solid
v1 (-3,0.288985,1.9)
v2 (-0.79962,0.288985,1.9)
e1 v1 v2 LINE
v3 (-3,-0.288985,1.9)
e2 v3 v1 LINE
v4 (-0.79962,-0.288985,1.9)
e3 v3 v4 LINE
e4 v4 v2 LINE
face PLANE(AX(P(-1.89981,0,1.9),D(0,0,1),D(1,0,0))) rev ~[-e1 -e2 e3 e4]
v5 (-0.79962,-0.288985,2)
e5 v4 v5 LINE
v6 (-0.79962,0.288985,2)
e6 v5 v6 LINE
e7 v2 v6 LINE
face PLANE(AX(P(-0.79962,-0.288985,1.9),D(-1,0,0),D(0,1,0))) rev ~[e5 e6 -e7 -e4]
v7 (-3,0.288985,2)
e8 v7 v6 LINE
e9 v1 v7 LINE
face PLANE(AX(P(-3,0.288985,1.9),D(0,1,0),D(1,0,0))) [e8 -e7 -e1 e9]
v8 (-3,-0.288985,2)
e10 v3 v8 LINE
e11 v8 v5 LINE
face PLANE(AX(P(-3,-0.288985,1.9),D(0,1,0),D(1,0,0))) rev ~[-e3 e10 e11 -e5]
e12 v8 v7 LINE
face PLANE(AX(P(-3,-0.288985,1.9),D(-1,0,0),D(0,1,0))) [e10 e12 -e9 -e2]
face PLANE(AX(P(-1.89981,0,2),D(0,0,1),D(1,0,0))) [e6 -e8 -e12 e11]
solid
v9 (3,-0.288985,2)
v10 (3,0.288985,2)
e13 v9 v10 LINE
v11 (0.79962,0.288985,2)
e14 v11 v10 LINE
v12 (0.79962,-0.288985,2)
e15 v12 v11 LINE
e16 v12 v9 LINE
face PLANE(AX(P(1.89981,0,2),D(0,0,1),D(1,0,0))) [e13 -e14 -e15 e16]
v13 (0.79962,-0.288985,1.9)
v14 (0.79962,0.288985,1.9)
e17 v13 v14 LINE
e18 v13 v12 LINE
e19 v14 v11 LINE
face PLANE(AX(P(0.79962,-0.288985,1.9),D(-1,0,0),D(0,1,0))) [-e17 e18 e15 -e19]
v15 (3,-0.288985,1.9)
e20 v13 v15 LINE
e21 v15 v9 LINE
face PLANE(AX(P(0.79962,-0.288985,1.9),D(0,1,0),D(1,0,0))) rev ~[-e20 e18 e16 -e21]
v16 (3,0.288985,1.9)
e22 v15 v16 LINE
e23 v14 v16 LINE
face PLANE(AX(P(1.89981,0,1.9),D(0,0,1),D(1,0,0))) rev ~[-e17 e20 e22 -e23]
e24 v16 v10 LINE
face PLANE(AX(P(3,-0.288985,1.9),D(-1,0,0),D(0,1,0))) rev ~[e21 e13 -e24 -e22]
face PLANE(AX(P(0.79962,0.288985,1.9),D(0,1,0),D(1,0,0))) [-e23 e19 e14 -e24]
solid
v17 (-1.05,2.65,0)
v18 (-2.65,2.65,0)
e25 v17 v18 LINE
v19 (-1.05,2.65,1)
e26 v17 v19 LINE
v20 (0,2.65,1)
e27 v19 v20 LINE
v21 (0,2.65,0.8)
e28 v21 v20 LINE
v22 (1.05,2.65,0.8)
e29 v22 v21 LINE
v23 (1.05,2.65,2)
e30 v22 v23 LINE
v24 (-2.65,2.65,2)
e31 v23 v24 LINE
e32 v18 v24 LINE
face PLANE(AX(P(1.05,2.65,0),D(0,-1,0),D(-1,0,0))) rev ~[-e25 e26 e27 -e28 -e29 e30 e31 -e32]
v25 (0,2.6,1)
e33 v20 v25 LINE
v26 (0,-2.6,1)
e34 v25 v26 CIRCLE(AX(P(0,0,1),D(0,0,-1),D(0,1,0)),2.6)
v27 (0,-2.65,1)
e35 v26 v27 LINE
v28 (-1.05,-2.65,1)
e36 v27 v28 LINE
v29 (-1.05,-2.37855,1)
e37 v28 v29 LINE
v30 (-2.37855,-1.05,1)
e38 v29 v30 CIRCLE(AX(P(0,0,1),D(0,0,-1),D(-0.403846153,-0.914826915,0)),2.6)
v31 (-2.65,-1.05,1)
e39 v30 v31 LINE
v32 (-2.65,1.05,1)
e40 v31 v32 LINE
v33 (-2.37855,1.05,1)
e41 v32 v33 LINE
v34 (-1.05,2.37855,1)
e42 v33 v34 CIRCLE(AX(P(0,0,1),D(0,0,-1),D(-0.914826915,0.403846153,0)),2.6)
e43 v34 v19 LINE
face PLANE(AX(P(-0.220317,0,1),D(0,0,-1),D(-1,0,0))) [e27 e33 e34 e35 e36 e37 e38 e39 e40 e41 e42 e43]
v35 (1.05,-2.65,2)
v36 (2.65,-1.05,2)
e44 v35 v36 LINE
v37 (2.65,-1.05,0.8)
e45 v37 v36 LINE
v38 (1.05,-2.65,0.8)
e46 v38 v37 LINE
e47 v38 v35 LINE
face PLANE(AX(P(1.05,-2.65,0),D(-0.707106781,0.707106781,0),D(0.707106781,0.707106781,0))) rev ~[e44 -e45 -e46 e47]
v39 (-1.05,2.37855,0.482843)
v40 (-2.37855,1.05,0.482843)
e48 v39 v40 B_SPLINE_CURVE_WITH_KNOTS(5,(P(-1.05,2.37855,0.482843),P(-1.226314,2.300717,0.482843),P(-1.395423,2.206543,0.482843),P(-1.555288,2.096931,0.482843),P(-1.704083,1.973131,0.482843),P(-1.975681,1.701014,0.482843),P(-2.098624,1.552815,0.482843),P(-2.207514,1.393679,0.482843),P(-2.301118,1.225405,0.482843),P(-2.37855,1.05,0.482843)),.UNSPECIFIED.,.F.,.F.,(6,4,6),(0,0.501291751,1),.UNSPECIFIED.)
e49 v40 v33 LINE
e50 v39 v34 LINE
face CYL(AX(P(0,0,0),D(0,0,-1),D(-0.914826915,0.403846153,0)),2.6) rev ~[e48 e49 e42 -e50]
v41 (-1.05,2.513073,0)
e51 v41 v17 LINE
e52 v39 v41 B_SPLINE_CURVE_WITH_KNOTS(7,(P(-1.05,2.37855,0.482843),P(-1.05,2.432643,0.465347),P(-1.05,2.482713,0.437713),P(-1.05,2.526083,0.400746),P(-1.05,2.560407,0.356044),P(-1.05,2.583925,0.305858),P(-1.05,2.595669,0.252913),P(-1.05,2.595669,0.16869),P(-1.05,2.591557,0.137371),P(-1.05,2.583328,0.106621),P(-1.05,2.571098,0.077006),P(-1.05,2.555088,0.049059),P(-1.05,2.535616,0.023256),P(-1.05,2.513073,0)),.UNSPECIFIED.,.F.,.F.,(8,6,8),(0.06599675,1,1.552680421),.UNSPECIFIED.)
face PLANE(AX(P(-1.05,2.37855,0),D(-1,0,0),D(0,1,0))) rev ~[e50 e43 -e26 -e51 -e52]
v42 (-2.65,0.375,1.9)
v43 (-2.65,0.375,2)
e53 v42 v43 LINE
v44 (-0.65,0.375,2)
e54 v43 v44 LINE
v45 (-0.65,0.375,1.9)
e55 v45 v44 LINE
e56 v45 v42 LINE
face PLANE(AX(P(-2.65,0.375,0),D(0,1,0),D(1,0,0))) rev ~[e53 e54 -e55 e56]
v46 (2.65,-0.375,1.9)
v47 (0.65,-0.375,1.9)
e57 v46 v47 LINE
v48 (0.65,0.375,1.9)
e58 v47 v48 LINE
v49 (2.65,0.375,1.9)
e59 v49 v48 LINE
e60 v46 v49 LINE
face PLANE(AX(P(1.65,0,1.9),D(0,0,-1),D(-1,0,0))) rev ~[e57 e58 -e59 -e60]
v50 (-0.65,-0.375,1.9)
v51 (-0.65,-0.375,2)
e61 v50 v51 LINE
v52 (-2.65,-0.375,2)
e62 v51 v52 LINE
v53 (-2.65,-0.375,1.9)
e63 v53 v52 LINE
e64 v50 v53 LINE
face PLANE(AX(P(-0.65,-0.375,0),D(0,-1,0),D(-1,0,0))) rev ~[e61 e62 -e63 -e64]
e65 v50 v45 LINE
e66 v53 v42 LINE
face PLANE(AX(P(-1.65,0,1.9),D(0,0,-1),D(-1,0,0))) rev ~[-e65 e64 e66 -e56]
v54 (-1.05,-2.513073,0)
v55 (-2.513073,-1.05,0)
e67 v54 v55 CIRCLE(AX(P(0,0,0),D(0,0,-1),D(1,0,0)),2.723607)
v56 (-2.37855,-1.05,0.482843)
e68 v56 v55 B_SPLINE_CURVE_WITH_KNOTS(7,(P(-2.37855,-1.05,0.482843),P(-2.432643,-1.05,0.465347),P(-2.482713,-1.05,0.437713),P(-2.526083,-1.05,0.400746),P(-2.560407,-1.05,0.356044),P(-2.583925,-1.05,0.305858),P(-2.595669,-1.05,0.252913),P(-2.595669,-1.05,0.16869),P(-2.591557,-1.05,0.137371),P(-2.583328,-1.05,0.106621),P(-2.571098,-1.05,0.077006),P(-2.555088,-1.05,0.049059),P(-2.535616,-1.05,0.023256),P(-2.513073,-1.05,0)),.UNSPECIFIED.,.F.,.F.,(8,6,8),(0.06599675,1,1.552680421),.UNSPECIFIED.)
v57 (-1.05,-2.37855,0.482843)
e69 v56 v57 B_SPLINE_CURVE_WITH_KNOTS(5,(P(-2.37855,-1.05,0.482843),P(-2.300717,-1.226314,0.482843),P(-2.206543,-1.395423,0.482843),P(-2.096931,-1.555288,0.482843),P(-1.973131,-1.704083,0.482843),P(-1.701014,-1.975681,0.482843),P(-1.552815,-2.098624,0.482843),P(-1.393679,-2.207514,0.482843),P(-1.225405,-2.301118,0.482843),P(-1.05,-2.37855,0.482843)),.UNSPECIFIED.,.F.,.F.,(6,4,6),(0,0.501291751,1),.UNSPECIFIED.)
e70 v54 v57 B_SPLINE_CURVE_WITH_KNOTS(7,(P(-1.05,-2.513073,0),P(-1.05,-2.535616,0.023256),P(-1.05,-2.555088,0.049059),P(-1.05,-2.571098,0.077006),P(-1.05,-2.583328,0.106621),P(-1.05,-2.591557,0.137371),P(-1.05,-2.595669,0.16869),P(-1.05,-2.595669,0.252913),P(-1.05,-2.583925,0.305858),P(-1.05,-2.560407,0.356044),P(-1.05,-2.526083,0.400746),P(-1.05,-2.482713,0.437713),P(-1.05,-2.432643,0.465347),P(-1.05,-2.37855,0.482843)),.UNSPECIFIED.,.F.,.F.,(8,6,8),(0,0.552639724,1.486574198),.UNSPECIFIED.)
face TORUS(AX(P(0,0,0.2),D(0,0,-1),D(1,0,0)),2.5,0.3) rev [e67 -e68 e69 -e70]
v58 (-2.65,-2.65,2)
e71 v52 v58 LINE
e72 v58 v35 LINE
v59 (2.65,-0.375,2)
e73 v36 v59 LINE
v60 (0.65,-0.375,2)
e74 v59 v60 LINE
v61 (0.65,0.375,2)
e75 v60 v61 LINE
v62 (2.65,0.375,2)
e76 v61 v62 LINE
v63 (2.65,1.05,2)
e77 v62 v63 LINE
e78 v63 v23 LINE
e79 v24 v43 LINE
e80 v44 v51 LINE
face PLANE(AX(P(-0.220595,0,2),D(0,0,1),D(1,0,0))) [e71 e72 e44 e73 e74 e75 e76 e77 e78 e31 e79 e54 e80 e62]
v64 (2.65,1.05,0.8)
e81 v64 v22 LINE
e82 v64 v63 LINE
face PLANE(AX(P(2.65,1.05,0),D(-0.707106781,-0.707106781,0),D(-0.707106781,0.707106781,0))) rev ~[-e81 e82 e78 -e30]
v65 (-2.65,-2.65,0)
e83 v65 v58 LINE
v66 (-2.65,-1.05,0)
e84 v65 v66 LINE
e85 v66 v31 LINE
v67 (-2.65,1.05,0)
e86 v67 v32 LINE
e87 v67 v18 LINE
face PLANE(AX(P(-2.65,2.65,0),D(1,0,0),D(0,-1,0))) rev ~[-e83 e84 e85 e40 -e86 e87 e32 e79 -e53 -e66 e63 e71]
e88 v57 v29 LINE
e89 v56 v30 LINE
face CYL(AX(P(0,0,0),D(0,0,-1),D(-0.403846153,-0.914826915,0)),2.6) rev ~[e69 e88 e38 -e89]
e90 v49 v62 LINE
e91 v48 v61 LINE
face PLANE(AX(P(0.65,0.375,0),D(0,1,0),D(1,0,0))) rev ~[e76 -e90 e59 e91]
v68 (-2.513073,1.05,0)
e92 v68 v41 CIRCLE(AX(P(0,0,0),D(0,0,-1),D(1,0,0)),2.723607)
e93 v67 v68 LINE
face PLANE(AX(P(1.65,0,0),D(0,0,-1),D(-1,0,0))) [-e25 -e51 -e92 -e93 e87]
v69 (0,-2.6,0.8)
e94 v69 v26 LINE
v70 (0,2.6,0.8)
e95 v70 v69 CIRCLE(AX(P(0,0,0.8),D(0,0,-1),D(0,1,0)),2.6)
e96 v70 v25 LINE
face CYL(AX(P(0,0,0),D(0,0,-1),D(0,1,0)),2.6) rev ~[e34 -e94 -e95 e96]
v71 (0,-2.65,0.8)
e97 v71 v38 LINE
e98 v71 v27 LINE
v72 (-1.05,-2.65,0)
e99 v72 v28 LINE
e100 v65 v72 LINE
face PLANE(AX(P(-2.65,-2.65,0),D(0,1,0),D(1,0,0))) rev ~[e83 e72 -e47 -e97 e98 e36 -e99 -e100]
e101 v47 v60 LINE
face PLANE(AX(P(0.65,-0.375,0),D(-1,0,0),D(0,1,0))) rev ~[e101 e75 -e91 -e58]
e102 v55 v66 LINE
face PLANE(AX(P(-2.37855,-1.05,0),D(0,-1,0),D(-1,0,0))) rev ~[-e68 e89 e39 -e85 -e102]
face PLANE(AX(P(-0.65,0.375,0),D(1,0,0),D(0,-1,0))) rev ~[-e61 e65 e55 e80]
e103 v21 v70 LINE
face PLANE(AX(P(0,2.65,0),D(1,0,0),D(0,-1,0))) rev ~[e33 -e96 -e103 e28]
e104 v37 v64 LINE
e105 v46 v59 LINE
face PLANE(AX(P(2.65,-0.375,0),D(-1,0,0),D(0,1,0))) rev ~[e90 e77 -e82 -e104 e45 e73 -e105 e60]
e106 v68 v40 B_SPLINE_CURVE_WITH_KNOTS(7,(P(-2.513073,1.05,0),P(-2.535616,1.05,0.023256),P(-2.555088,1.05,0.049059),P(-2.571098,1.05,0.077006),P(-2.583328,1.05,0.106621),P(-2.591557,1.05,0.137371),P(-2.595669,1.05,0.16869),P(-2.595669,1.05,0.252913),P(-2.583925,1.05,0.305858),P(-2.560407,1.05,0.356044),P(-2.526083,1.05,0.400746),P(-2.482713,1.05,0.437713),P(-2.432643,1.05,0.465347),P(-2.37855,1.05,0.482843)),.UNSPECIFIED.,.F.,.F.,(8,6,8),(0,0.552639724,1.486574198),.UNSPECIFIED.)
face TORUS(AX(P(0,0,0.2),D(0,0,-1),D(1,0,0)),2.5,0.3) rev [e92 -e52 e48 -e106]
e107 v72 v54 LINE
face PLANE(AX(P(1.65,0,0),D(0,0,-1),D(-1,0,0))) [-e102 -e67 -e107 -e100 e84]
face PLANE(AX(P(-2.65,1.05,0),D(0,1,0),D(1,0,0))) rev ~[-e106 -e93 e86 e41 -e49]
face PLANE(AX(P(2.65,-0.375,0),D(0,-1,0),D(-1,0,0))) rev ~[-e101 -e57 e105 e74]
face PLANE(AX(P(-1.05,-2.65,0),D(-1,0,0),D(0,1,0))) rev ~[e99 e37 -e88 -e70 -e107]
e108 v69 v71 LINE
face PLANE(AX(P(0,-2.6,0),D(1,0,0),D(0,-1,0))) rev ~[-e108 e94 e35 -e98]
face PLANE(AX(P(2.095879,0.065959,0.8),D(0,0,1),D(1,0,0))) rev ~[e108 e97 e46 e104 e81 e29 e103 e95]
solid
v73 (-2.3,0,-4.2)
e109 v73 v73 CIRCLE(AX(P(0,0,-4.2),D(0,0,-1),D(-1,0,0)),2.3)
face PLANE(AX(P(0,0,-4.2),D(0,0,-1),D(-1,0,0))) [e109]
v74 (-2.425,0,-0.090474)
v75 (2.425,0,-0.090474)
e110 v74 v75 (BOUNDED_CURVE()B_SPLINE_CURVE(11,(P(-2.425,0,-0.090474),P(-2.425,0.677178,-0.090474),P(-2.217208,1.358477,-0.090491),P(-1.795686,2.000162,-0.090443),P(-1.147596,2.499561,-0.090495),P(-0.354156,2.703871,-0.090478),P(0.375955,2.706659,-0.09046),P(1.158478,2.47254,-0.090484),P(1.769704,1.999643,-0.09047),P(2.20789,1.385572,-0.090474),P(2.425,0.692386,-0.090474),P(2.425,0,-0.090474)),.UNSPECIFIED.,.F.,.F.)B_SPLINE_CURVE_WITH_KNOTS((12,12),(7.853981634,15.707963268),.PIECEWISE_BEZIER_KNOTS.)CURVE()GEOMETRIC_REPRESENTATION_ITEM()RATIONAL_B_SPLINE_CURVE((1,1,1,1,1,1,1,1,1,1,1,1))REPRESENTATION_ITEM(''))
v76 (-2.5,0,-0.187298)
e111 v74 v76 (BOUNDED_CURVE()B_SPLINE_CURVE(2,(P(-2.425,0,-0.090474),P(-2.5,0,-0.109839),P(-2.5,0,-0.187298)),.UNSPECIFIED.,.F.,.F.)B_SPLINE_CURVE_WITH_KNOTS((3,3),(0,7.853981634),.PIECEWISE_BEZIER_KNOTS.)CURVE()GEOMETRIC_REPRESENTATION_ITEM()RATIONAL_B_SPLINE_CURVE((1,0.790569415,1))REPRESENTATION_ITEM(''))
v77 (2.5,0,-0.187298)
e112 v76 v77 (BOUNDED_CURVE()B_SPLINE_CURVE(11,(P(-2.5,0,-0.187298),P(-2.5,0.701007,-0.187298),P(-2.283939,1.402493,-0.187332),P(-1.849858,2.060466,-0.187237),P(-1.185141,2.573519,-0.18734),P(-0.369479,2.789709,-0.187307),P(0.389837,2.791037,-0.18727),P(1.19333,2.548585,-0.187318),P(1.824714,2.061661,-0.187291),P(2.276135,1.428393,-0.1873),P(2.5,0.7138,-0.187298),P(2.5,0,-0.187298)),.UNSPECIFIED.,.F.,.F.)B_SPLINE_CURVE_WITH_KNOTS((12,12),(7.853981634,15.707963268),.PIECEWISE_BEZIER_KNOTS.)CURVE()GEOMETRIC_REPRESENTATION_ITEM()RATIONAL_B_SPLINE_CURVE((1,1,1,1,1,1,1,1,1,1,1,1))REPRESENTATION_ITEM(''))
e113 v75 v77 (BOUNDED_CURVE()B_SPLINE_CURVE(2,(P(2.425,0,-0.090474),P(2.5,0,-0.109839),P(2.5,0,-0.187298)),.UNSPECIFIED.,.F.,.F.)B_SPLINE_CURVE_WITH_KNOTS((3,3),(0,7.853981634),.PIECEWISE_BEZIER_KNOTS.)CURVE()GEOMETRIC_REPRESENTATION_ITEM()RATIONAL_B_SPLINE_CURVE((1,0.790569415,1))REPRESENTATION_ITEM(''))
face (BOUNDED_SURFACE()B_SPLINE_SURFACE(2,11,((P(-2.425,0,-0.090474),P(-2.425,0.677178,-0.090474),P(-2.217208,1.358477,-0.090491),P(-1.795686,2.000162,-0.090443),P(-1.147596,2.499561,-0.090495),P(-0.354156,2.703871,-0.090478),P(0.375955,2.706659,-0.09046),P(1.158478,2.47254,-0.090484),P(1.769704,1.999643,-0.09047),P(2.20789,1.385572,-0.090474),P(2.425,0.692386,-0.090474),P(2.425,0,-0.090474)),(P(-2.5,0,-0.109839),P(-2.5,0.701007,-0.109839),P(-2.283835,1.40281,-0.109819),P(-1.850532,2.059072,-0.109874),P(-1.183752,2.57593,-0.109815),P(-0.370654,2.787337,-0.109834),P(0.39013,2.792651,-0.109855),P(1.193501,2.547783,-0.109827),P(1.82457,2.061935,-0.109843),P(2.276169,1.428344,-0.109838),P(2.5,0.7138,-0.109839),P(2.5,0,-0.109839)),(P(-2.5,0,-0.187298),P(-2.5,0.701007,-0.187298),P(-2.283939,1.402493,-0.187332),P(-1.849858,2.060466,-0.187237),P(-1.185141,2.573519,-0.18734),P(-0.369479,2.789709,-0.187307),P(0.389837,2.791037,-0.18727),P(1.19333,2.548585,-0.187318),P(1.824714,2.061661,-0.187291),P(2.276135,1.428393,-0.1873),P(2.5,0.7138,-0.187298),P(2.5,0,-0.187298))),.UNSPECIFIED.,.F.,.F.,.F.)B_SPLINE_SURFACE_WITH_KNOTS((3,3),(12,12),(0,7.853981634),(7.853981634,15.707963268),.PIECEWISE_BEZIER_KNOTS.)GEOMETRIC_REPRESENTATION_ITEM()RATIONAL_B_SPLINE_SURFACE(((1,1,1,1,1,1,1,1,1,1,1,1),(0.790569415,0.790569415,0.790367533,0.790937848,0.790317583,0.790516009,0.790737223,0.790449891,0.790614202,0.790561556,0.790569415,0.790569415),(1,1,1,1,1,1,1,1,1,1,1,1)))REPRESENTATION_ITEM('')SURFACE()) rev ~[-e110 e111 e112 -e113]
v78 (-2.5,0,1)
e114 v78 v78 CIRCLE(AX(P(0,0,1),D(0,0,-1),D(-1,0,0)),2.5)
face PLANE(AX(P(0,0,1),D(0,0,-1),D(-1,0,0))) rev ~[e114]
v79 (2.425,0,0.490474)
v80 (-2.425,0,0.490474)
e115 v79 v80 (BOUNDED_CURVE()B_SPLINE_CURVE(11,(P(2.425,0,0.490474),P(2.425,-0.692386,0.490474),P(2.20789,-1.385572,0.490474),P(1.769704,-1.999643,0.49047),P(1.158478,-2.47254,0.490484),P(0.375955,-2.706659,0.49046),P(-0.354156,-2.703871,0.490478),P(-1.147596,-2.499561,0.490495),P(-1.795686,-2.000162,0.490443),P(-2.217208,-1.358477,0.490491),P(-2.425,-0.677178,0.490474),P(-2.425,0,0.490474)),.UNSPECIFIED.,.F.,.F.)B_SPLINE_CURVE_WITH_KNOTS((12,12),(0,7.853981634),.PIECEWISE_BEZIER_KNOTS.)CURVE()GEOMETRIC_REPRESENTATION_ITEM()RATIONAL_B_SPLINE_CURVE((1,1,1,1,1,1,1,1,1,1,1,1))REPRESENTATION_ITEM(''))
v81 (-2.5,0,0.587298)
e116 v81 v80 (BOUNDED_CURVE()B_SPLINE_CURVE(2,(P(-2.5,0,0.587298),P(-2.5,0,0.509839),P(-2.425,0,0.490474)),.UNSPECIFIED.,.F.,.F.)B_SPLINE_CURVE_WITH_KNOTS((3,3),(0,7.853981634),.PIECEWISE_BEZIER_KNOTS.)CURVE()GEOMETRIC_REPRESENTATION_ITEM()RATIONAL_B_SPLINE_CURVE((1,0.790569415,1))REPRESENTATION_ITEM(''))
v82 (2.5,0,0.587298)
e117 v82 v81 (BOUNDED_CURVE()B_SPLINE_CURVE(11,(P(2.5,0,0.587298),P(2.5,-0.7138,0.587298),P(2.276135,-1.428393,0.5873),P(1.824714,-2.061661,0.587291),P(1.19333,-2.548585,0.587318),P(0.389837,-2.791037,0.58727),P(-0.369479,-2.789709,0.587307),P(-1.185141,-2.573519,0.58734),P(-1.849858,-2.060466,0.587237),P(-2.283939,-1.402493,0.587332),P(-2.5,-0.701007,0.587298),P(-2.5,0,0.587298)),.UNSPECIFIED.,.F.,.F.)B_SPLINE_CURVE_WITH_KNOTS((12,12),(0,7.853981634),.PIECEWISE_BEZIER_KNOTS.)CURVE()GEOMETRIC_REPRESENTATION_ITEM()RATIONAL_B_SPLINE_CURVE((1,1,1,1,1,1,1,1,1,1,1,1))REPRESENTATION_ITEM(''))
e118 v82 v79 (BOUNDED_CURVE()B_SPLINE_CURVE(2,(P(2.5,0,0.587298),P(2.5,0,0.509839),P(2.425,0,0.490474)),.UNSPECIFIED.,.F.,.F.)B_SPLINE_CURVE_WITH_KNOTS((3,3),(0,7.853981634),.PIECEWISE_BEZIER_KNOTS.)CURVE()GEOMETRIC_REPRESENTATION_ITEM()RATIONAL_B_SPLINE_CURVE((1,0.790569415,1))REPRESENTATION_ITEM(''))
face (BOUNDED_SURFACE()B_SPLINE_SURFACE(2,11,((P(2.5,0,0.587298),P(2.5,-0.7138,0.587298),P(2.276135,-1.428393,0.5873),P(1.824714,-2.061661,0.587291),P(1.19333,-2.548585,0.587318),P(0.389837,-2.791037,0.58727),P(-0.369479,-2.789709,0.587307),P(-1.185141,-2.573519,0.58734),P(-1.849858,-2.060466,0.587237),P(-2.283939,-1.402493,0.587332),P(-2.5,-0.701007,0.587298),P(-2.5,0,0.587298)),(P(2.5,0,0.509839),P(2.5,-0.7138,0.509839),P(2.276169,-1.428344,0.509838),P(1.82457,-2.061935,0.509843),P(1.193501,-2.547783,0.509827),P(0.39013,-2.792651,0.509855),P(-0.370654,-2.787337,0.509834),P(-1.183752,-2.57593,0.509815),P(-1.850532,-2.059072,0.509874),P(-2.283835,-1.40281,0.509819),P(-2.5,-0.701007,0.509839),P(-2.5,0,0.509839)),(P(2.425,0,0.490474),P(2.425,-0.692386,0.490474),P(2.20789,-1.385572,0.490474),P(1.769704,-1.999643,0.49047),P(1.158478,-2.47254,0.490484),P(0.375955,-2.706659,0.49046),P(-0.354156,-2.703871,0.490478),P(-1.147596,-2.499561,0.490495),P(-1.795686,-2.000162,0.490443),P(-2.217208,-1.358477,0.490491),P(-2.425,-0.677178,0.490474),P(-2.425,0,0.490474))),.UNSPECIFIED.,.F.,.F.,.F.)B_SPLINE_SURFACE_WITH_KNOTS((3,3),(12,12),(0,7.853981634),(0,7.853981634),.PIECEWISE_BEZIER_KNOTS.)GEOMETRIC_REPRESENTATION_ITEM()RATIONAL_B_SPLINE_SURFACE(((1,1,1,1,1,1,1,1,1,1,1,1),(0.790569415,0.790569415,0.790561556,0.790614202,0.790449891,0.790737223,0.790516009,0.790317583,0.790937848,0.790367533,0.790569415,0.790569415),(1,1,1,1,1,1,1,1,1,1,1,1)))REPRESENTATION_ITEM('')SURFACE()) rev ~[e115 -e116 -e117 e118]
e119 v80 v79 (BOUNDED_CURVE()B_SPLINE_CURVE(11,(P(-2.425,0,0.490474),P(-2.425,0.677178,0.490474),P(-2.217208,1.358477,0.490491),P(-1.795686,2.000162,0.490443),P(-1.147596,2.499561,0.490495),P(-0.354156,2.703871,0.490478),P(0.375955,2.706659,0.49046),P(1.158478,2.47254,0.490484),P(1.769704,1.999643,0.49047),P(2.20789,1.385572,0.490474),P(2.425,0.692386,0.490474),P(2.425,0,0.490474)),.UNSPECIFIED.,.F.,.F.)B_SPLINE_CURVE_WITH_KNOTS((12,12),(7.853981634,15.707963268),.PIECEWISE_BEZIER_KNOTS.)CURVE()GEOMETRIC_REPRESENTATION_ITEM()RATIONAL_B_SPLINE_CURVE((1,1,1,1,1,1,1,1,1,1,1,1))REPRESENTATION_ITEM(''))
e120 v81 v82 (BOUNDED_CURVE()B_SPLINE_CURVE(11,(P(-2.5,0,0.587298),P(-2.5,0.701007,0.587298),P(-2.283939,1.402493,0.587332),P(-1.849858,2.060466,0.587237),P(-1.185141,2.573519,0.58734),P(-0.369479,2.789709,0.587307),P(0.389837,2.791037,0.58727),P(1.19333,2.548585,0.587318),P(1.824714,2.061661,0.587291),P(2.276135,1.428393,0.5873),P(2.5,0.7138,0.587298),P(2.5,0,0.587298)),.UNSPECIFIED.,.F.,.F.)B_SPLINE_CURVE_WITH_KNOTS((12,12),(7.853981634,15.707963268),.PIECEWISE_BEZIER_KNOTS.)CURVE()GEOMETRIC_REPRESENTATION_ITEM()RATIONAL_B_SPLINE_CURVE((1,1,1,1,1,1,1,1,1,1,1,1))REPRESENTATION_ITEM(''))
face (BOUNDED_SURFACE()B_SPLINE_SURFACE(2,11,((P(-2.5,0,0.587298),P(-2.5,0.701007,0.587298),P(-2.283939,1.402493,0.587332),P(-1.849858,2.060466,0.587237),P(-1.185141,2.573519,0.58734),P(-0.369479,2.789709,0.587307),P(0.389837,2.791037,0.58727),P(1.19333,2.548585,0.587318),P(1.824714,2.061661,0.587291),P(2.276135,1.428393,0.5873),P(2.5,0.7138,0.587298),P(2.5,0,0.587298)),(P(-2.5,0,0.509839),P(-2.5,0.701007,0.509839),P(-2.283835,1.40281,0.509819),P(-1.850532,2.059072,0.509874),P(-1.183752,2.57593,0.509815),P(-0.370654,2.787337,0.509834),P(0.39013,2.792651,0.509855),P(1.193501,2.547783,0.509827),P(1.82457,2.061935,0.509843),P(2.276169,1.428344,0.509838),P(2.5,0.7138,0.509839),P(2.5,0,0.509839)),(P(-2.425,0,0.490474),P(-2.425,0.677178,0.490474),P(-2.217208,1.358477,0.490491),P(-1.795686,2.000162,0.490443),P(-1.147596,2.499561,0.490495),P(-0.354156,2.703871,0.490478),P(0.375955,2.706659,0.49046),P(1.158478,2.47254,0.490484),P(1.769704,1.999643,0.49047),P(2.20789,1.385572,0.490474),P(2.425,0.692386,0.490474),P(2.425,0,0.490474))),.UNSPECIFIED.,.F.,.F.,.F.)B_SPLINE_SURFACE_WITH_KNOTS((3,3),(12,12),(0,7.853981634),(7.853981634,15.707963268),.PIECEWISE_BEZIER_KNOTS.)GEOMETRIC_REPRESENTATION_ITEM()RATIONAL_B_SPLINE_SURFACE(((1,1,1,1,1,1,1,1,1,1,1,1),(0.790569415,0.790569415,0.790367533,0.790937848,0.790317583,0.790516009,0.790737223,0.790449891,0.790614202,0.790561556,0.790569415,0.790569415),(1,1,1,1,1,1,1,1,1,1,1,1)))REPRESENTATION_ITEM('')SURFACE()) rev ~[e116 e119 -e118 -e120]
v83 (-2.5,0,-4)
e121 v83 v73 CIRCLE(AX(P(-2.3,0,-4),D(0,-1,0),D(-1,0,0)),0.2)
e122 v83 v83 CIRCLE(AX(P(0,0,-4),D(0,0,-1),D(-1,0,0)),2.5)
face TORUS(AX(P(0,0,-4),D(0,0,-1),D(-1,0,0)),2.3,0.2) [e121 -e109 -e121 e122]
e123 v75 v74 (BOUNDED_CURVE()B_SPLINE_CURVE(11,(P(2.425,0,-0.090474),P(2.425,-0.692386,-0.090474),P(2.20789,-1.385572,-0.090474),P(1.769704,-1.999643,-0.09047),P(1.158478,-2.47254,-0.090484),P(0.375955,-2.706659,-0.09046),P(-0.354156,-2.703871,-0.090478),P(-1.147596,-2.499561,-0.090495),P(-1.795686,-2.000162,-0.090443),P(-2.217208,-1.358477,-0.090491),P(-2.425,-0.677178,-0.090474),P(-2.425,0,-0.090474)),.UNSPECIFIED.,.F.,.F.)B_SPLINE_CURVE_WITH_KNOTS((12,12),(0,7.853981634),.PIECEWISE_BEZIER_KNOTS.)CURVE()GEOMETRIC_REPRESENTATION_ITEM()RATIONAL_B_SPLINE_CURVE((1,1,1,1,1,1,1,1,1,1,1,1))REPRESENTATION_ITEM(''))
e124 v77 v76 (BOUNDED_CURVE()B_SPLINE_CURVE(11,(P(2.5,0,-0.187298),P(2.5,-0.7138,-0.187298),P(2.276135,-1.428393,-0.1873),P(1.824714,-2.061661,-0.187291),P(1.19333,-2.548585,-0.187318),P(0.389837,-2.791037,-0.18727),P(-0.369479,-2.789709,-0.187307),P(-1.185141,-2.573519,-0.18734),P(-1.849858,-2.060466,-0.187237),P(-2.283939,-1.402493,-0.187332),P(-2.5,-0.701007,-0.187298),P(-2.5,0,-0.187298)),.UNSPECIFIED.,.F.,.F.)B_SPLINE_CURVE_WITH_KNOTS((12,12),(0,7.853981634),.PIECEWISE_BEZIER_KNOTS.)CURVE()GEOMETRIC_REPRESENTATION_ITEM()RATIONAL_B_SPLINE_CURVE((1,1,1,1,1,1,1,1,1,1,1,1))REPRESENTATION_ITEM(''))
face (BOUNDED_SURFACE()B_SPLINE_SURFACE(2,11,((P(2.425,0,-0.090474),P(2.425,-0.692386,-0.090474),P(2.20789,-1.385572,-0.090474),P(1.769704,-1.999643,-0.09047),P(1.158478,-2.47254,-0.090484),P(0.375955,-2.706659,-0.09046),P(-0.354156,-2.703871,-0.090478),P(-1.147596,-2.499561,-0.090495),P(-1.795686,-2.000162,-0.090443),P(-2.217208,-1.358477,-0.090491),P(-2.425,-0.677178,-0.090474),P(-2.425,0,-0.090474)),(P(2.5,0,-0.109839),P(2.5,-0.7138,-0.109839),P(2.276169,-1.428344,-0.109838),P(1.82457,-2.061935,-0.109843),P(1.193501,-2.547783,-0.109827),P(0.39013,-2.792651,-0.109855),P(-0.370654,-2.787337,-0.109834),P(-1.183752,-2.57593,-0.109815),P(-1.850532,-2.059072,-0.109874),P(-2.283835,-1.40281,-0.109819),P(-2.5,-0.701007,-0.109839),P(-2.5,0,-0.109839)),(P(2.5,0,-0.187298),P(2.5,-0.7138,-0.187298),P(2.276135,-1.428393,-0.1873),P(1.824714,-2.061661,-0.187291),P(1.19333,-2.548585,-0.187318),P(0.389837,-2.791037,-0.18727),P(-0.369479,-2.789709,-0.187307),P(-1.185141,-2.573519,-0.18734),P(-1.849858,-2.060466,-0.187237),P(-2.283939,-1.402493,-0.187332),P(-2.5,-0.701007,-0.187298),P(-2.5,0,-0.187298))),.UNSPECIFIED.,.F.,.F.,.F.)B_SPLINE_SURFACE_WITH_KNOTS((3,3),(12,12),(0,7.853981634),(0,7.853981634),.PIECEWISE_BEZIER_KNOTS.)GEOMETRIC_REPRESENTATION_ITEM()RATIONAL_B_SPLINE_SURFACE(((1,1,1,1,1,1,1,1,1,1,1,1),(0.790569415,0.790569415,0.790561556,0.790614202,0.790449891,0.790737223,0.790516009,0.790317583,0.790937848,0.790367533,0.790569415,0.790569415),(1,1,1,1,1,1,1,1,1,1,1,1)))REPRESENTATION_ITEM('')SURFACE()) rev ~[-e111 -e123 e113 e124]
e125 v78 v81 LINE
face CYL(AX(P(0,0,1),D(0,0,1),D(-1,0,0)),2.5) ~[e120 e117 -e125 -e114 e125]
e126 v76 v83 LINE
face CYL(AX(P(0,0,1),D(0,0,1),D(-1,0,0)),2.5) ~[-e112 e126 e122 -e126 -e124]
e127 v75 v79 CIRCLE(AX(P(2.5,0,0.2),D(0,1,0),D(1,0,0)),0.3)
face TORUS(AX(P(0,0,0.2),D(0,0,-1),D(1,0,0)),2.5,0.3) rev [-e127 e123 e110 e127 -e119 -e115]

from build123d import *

# Parameters (mm, degrees)
DODANIE_WYCI_GNI_CIE1_DEPTH   = 2
SZKIC2_W                      = 2
SZKIC2_H                      = 0.75
DODANIE_WYCI_GNI_CIE2_DEPTH   = 1.9
SZKIC3_W                      = 2.200379753
SZKIC3_H                      = 0.577969806
DODANIE_WYCI_GNI_CIE3_DEPTH   = 0.1
DODANIE_WYCI_GNI_CIE3_2_DEPTH = 0.1
WYTNIJ_WYCI_GNI_CIE1_DEPTH    = 1
WYTNIJ_WYCI_GNI_CIE2_DEPTH    = 0.8
SZKIC6_R                      = 2.5
DODANIE_WYCI_GNI_CIE4_DEPTH   = 5.2
ZAOKR_GLENIE1_R               = 0.2
SZKIC9_R                      = 0.3
ZAOKR_GLENIE2_R               = 0.1


with BuildPart() as part:
    # Szkic1 → Dodanie-wyciągnięcie1 (new body)
    with BuildSketch(Plane.XY):
        Polygon((2.65, -1.05), (2.65, -0.375), (0.65, -0.375), (0.65, 0.375), (2.65, 0.375), (2.65, 1.05), (1.05, 2.65), (-2.65, 2.65), (-2.65, 0.375), (-0.65, 0.375), (-0.65, -0.375), (-2.65, -0.375), (-2.65, -2.65), (1.05, -2.65), align=None)
    extrude(amount=DODANIE_WYCI_GNI_CIE1_DEPTH)

    # Szkic2 → Dodanie-wyciągnięcie2 (add)
    with BuildSketch(Plane(origin=(0, 0, 0), x_dir=(-1, 0, 0), z_dir=(0, 0, -1))):
        with Locations((-1.65, 0)):
            Rectangle(SZKIC2_W, SZKIC2_H)
        with Locations((1.65, 0)):
            Rectangle(SZKIC2_W, SZKIC2_H)
    extrude(amount=-DODANIE_WYCI_GNI_CIE2_DEPTH)

    # Szkic4 → Wytnij-wyciągnięcie1 (cut)
    with BuildSketch(Plane(origin=(0, 0, 0), x_dir=(-1, 0, 0), z_dir=(0, 0, -1))):
        with BuildLine():
            Line((1.05, 2.65), (0, 2.65))
            Line((0, 2.65), (0, 2.6))
            ThreePointArc((0, 2.6), (-2.6, 0), (0, -2.6))
            Line((0, -2.6), (0, -2.65))
            Line((0, -2.65), (1.05, -2.65))
            Line((1.05, -2.65), (1.05, -2.378549978))
            ThreePointArc((1.05, -2.378549978), (1.838477631, -1.838477631), (2.378549978, -1.05))
            Line((2.378549978, -1.05), (2.65, -1.05))
            Line((2.65, -1.05), (2.65, 1.05))
            Line((2.65, 1.05), (2.378549978, 1.05))
            ThreePointArc((2.378549978, 1.05), (1.838477631, 1.838477631), (1.05, 2.378549978))
            Line((1.05, 2.378549978), (1.05, 2.65))
        make_face()
    extrude(amount=-WYTNIJ_WYCI_GNI_CIE1_DEPTH, mode=Mode.SUBTRACT)

    # Szkic5 → Wytnij-wyciągnięcie2 (cut)
    with BuildSketch(Plane(origin=(0, 0, 0), x_dir=(-1, 0, 0), z_dir=(0, 0, -1))):
        Polygon((0.494672593, 3.837977015), (0.494672593, -3.940323068), (-3.599169556, -3.326246746), (-6.226051601, 2.132209453), align=None)
    extrude(amount=-WYTNIJ_WYCI_GNI_CIE2_DEPTH, mode=Mode.SUBTRACT)


with BuildPart() as body_2:
    # Szkic3 → Dodanie-wyciągnięcie3 (new body)
    with BuildSketch(Plane.XY.offset(1.9)):
        with Locations((1.899810124, 0)):
            Rectangle(SZKIC3_W, SZKIC3_H)
    extrude(amount=DODANIE_WYCI_GNI_CIE3_DEPTH)


with BuildPart() as body_3:
    # Szkic3 → Dodanie-wyci_gni_cie3 2 (new body)
    with BuildSketch(Plane.XY.offset(1.9)):
        with Locations((-1.899810124, 0)):
            Rectangle(SZKIC3_W, SZKIC3_H)
    extrude(amount=DODANIE_WYCI_GNI_CIE3_2_DEPTH)


with BuildPart() as body_4:
    # Szkic6 → Dodanie-wyciągnięcie4 (new body)
    with BuildSketch(Plane(origin=(0, 0, 1), x_dir=(-1, 0, 0), z_dir=(0, 0, -1))):
        Circle(SZKIC6_R)
    extrude(amount=DODANIE_WYCI_GNI_CIE4_DEPTH)

    # Zaokrąglenie1
    zaokr_glenie1_edges = [body_4.edges().sort_by_distance(p)[0] for p in [
        (2.5, 0, -4.2),
    ]]
    fillet(zaokr_glenie1_edges, radius=ZAOKR_GLENIE1_R)


with BuildPart() as wyci_cie_obr_t1_tool:
    # Szkic9 → Wycięcie-obrót1 (revolve)
    with BuildSketch(Plane(origin=(0, 0, 0), x_dir=(1, 0, 0), z_dir=(0, 1, 0))):
        with Locations((2.5, -0.2)):
            Circle(SZKIC9_R)
    revolve(axis=Axis((0, 0, -4.2), (0, 0, 1)))


with BuildPart() as part_1:
    add(part.part)

    # Wycięcie-obrót1: cut by wyci_cie_obr_t1_tool
    add(wyci_cie_obr_t1_tool.part, mode=Mode.SUBTRACT)


with BuildPart() as body_4_1:
    add(body_4.part)

    # Wycięcie-obrót1: cut by wyci_cie_obr_t1_tool
    add(wyci_cie_obr_t1_tool.part, mode=Mode.SUBTRACT)

    # Zaokrąglenie2
    zaokr_glenie2_edges = [body_4_1.edges().sort_by_distance(p)[0] for p in [
        (0, -2.5, -0.1),
        (0, -2.5, 0.5),
    ]]
    fillet(zaokr_glenie2_edges, radius=ZAOKR_GLENIE2_R)


solid = Compound([body_2.part, body_3.part, part_1.part, body_4_1.part])
